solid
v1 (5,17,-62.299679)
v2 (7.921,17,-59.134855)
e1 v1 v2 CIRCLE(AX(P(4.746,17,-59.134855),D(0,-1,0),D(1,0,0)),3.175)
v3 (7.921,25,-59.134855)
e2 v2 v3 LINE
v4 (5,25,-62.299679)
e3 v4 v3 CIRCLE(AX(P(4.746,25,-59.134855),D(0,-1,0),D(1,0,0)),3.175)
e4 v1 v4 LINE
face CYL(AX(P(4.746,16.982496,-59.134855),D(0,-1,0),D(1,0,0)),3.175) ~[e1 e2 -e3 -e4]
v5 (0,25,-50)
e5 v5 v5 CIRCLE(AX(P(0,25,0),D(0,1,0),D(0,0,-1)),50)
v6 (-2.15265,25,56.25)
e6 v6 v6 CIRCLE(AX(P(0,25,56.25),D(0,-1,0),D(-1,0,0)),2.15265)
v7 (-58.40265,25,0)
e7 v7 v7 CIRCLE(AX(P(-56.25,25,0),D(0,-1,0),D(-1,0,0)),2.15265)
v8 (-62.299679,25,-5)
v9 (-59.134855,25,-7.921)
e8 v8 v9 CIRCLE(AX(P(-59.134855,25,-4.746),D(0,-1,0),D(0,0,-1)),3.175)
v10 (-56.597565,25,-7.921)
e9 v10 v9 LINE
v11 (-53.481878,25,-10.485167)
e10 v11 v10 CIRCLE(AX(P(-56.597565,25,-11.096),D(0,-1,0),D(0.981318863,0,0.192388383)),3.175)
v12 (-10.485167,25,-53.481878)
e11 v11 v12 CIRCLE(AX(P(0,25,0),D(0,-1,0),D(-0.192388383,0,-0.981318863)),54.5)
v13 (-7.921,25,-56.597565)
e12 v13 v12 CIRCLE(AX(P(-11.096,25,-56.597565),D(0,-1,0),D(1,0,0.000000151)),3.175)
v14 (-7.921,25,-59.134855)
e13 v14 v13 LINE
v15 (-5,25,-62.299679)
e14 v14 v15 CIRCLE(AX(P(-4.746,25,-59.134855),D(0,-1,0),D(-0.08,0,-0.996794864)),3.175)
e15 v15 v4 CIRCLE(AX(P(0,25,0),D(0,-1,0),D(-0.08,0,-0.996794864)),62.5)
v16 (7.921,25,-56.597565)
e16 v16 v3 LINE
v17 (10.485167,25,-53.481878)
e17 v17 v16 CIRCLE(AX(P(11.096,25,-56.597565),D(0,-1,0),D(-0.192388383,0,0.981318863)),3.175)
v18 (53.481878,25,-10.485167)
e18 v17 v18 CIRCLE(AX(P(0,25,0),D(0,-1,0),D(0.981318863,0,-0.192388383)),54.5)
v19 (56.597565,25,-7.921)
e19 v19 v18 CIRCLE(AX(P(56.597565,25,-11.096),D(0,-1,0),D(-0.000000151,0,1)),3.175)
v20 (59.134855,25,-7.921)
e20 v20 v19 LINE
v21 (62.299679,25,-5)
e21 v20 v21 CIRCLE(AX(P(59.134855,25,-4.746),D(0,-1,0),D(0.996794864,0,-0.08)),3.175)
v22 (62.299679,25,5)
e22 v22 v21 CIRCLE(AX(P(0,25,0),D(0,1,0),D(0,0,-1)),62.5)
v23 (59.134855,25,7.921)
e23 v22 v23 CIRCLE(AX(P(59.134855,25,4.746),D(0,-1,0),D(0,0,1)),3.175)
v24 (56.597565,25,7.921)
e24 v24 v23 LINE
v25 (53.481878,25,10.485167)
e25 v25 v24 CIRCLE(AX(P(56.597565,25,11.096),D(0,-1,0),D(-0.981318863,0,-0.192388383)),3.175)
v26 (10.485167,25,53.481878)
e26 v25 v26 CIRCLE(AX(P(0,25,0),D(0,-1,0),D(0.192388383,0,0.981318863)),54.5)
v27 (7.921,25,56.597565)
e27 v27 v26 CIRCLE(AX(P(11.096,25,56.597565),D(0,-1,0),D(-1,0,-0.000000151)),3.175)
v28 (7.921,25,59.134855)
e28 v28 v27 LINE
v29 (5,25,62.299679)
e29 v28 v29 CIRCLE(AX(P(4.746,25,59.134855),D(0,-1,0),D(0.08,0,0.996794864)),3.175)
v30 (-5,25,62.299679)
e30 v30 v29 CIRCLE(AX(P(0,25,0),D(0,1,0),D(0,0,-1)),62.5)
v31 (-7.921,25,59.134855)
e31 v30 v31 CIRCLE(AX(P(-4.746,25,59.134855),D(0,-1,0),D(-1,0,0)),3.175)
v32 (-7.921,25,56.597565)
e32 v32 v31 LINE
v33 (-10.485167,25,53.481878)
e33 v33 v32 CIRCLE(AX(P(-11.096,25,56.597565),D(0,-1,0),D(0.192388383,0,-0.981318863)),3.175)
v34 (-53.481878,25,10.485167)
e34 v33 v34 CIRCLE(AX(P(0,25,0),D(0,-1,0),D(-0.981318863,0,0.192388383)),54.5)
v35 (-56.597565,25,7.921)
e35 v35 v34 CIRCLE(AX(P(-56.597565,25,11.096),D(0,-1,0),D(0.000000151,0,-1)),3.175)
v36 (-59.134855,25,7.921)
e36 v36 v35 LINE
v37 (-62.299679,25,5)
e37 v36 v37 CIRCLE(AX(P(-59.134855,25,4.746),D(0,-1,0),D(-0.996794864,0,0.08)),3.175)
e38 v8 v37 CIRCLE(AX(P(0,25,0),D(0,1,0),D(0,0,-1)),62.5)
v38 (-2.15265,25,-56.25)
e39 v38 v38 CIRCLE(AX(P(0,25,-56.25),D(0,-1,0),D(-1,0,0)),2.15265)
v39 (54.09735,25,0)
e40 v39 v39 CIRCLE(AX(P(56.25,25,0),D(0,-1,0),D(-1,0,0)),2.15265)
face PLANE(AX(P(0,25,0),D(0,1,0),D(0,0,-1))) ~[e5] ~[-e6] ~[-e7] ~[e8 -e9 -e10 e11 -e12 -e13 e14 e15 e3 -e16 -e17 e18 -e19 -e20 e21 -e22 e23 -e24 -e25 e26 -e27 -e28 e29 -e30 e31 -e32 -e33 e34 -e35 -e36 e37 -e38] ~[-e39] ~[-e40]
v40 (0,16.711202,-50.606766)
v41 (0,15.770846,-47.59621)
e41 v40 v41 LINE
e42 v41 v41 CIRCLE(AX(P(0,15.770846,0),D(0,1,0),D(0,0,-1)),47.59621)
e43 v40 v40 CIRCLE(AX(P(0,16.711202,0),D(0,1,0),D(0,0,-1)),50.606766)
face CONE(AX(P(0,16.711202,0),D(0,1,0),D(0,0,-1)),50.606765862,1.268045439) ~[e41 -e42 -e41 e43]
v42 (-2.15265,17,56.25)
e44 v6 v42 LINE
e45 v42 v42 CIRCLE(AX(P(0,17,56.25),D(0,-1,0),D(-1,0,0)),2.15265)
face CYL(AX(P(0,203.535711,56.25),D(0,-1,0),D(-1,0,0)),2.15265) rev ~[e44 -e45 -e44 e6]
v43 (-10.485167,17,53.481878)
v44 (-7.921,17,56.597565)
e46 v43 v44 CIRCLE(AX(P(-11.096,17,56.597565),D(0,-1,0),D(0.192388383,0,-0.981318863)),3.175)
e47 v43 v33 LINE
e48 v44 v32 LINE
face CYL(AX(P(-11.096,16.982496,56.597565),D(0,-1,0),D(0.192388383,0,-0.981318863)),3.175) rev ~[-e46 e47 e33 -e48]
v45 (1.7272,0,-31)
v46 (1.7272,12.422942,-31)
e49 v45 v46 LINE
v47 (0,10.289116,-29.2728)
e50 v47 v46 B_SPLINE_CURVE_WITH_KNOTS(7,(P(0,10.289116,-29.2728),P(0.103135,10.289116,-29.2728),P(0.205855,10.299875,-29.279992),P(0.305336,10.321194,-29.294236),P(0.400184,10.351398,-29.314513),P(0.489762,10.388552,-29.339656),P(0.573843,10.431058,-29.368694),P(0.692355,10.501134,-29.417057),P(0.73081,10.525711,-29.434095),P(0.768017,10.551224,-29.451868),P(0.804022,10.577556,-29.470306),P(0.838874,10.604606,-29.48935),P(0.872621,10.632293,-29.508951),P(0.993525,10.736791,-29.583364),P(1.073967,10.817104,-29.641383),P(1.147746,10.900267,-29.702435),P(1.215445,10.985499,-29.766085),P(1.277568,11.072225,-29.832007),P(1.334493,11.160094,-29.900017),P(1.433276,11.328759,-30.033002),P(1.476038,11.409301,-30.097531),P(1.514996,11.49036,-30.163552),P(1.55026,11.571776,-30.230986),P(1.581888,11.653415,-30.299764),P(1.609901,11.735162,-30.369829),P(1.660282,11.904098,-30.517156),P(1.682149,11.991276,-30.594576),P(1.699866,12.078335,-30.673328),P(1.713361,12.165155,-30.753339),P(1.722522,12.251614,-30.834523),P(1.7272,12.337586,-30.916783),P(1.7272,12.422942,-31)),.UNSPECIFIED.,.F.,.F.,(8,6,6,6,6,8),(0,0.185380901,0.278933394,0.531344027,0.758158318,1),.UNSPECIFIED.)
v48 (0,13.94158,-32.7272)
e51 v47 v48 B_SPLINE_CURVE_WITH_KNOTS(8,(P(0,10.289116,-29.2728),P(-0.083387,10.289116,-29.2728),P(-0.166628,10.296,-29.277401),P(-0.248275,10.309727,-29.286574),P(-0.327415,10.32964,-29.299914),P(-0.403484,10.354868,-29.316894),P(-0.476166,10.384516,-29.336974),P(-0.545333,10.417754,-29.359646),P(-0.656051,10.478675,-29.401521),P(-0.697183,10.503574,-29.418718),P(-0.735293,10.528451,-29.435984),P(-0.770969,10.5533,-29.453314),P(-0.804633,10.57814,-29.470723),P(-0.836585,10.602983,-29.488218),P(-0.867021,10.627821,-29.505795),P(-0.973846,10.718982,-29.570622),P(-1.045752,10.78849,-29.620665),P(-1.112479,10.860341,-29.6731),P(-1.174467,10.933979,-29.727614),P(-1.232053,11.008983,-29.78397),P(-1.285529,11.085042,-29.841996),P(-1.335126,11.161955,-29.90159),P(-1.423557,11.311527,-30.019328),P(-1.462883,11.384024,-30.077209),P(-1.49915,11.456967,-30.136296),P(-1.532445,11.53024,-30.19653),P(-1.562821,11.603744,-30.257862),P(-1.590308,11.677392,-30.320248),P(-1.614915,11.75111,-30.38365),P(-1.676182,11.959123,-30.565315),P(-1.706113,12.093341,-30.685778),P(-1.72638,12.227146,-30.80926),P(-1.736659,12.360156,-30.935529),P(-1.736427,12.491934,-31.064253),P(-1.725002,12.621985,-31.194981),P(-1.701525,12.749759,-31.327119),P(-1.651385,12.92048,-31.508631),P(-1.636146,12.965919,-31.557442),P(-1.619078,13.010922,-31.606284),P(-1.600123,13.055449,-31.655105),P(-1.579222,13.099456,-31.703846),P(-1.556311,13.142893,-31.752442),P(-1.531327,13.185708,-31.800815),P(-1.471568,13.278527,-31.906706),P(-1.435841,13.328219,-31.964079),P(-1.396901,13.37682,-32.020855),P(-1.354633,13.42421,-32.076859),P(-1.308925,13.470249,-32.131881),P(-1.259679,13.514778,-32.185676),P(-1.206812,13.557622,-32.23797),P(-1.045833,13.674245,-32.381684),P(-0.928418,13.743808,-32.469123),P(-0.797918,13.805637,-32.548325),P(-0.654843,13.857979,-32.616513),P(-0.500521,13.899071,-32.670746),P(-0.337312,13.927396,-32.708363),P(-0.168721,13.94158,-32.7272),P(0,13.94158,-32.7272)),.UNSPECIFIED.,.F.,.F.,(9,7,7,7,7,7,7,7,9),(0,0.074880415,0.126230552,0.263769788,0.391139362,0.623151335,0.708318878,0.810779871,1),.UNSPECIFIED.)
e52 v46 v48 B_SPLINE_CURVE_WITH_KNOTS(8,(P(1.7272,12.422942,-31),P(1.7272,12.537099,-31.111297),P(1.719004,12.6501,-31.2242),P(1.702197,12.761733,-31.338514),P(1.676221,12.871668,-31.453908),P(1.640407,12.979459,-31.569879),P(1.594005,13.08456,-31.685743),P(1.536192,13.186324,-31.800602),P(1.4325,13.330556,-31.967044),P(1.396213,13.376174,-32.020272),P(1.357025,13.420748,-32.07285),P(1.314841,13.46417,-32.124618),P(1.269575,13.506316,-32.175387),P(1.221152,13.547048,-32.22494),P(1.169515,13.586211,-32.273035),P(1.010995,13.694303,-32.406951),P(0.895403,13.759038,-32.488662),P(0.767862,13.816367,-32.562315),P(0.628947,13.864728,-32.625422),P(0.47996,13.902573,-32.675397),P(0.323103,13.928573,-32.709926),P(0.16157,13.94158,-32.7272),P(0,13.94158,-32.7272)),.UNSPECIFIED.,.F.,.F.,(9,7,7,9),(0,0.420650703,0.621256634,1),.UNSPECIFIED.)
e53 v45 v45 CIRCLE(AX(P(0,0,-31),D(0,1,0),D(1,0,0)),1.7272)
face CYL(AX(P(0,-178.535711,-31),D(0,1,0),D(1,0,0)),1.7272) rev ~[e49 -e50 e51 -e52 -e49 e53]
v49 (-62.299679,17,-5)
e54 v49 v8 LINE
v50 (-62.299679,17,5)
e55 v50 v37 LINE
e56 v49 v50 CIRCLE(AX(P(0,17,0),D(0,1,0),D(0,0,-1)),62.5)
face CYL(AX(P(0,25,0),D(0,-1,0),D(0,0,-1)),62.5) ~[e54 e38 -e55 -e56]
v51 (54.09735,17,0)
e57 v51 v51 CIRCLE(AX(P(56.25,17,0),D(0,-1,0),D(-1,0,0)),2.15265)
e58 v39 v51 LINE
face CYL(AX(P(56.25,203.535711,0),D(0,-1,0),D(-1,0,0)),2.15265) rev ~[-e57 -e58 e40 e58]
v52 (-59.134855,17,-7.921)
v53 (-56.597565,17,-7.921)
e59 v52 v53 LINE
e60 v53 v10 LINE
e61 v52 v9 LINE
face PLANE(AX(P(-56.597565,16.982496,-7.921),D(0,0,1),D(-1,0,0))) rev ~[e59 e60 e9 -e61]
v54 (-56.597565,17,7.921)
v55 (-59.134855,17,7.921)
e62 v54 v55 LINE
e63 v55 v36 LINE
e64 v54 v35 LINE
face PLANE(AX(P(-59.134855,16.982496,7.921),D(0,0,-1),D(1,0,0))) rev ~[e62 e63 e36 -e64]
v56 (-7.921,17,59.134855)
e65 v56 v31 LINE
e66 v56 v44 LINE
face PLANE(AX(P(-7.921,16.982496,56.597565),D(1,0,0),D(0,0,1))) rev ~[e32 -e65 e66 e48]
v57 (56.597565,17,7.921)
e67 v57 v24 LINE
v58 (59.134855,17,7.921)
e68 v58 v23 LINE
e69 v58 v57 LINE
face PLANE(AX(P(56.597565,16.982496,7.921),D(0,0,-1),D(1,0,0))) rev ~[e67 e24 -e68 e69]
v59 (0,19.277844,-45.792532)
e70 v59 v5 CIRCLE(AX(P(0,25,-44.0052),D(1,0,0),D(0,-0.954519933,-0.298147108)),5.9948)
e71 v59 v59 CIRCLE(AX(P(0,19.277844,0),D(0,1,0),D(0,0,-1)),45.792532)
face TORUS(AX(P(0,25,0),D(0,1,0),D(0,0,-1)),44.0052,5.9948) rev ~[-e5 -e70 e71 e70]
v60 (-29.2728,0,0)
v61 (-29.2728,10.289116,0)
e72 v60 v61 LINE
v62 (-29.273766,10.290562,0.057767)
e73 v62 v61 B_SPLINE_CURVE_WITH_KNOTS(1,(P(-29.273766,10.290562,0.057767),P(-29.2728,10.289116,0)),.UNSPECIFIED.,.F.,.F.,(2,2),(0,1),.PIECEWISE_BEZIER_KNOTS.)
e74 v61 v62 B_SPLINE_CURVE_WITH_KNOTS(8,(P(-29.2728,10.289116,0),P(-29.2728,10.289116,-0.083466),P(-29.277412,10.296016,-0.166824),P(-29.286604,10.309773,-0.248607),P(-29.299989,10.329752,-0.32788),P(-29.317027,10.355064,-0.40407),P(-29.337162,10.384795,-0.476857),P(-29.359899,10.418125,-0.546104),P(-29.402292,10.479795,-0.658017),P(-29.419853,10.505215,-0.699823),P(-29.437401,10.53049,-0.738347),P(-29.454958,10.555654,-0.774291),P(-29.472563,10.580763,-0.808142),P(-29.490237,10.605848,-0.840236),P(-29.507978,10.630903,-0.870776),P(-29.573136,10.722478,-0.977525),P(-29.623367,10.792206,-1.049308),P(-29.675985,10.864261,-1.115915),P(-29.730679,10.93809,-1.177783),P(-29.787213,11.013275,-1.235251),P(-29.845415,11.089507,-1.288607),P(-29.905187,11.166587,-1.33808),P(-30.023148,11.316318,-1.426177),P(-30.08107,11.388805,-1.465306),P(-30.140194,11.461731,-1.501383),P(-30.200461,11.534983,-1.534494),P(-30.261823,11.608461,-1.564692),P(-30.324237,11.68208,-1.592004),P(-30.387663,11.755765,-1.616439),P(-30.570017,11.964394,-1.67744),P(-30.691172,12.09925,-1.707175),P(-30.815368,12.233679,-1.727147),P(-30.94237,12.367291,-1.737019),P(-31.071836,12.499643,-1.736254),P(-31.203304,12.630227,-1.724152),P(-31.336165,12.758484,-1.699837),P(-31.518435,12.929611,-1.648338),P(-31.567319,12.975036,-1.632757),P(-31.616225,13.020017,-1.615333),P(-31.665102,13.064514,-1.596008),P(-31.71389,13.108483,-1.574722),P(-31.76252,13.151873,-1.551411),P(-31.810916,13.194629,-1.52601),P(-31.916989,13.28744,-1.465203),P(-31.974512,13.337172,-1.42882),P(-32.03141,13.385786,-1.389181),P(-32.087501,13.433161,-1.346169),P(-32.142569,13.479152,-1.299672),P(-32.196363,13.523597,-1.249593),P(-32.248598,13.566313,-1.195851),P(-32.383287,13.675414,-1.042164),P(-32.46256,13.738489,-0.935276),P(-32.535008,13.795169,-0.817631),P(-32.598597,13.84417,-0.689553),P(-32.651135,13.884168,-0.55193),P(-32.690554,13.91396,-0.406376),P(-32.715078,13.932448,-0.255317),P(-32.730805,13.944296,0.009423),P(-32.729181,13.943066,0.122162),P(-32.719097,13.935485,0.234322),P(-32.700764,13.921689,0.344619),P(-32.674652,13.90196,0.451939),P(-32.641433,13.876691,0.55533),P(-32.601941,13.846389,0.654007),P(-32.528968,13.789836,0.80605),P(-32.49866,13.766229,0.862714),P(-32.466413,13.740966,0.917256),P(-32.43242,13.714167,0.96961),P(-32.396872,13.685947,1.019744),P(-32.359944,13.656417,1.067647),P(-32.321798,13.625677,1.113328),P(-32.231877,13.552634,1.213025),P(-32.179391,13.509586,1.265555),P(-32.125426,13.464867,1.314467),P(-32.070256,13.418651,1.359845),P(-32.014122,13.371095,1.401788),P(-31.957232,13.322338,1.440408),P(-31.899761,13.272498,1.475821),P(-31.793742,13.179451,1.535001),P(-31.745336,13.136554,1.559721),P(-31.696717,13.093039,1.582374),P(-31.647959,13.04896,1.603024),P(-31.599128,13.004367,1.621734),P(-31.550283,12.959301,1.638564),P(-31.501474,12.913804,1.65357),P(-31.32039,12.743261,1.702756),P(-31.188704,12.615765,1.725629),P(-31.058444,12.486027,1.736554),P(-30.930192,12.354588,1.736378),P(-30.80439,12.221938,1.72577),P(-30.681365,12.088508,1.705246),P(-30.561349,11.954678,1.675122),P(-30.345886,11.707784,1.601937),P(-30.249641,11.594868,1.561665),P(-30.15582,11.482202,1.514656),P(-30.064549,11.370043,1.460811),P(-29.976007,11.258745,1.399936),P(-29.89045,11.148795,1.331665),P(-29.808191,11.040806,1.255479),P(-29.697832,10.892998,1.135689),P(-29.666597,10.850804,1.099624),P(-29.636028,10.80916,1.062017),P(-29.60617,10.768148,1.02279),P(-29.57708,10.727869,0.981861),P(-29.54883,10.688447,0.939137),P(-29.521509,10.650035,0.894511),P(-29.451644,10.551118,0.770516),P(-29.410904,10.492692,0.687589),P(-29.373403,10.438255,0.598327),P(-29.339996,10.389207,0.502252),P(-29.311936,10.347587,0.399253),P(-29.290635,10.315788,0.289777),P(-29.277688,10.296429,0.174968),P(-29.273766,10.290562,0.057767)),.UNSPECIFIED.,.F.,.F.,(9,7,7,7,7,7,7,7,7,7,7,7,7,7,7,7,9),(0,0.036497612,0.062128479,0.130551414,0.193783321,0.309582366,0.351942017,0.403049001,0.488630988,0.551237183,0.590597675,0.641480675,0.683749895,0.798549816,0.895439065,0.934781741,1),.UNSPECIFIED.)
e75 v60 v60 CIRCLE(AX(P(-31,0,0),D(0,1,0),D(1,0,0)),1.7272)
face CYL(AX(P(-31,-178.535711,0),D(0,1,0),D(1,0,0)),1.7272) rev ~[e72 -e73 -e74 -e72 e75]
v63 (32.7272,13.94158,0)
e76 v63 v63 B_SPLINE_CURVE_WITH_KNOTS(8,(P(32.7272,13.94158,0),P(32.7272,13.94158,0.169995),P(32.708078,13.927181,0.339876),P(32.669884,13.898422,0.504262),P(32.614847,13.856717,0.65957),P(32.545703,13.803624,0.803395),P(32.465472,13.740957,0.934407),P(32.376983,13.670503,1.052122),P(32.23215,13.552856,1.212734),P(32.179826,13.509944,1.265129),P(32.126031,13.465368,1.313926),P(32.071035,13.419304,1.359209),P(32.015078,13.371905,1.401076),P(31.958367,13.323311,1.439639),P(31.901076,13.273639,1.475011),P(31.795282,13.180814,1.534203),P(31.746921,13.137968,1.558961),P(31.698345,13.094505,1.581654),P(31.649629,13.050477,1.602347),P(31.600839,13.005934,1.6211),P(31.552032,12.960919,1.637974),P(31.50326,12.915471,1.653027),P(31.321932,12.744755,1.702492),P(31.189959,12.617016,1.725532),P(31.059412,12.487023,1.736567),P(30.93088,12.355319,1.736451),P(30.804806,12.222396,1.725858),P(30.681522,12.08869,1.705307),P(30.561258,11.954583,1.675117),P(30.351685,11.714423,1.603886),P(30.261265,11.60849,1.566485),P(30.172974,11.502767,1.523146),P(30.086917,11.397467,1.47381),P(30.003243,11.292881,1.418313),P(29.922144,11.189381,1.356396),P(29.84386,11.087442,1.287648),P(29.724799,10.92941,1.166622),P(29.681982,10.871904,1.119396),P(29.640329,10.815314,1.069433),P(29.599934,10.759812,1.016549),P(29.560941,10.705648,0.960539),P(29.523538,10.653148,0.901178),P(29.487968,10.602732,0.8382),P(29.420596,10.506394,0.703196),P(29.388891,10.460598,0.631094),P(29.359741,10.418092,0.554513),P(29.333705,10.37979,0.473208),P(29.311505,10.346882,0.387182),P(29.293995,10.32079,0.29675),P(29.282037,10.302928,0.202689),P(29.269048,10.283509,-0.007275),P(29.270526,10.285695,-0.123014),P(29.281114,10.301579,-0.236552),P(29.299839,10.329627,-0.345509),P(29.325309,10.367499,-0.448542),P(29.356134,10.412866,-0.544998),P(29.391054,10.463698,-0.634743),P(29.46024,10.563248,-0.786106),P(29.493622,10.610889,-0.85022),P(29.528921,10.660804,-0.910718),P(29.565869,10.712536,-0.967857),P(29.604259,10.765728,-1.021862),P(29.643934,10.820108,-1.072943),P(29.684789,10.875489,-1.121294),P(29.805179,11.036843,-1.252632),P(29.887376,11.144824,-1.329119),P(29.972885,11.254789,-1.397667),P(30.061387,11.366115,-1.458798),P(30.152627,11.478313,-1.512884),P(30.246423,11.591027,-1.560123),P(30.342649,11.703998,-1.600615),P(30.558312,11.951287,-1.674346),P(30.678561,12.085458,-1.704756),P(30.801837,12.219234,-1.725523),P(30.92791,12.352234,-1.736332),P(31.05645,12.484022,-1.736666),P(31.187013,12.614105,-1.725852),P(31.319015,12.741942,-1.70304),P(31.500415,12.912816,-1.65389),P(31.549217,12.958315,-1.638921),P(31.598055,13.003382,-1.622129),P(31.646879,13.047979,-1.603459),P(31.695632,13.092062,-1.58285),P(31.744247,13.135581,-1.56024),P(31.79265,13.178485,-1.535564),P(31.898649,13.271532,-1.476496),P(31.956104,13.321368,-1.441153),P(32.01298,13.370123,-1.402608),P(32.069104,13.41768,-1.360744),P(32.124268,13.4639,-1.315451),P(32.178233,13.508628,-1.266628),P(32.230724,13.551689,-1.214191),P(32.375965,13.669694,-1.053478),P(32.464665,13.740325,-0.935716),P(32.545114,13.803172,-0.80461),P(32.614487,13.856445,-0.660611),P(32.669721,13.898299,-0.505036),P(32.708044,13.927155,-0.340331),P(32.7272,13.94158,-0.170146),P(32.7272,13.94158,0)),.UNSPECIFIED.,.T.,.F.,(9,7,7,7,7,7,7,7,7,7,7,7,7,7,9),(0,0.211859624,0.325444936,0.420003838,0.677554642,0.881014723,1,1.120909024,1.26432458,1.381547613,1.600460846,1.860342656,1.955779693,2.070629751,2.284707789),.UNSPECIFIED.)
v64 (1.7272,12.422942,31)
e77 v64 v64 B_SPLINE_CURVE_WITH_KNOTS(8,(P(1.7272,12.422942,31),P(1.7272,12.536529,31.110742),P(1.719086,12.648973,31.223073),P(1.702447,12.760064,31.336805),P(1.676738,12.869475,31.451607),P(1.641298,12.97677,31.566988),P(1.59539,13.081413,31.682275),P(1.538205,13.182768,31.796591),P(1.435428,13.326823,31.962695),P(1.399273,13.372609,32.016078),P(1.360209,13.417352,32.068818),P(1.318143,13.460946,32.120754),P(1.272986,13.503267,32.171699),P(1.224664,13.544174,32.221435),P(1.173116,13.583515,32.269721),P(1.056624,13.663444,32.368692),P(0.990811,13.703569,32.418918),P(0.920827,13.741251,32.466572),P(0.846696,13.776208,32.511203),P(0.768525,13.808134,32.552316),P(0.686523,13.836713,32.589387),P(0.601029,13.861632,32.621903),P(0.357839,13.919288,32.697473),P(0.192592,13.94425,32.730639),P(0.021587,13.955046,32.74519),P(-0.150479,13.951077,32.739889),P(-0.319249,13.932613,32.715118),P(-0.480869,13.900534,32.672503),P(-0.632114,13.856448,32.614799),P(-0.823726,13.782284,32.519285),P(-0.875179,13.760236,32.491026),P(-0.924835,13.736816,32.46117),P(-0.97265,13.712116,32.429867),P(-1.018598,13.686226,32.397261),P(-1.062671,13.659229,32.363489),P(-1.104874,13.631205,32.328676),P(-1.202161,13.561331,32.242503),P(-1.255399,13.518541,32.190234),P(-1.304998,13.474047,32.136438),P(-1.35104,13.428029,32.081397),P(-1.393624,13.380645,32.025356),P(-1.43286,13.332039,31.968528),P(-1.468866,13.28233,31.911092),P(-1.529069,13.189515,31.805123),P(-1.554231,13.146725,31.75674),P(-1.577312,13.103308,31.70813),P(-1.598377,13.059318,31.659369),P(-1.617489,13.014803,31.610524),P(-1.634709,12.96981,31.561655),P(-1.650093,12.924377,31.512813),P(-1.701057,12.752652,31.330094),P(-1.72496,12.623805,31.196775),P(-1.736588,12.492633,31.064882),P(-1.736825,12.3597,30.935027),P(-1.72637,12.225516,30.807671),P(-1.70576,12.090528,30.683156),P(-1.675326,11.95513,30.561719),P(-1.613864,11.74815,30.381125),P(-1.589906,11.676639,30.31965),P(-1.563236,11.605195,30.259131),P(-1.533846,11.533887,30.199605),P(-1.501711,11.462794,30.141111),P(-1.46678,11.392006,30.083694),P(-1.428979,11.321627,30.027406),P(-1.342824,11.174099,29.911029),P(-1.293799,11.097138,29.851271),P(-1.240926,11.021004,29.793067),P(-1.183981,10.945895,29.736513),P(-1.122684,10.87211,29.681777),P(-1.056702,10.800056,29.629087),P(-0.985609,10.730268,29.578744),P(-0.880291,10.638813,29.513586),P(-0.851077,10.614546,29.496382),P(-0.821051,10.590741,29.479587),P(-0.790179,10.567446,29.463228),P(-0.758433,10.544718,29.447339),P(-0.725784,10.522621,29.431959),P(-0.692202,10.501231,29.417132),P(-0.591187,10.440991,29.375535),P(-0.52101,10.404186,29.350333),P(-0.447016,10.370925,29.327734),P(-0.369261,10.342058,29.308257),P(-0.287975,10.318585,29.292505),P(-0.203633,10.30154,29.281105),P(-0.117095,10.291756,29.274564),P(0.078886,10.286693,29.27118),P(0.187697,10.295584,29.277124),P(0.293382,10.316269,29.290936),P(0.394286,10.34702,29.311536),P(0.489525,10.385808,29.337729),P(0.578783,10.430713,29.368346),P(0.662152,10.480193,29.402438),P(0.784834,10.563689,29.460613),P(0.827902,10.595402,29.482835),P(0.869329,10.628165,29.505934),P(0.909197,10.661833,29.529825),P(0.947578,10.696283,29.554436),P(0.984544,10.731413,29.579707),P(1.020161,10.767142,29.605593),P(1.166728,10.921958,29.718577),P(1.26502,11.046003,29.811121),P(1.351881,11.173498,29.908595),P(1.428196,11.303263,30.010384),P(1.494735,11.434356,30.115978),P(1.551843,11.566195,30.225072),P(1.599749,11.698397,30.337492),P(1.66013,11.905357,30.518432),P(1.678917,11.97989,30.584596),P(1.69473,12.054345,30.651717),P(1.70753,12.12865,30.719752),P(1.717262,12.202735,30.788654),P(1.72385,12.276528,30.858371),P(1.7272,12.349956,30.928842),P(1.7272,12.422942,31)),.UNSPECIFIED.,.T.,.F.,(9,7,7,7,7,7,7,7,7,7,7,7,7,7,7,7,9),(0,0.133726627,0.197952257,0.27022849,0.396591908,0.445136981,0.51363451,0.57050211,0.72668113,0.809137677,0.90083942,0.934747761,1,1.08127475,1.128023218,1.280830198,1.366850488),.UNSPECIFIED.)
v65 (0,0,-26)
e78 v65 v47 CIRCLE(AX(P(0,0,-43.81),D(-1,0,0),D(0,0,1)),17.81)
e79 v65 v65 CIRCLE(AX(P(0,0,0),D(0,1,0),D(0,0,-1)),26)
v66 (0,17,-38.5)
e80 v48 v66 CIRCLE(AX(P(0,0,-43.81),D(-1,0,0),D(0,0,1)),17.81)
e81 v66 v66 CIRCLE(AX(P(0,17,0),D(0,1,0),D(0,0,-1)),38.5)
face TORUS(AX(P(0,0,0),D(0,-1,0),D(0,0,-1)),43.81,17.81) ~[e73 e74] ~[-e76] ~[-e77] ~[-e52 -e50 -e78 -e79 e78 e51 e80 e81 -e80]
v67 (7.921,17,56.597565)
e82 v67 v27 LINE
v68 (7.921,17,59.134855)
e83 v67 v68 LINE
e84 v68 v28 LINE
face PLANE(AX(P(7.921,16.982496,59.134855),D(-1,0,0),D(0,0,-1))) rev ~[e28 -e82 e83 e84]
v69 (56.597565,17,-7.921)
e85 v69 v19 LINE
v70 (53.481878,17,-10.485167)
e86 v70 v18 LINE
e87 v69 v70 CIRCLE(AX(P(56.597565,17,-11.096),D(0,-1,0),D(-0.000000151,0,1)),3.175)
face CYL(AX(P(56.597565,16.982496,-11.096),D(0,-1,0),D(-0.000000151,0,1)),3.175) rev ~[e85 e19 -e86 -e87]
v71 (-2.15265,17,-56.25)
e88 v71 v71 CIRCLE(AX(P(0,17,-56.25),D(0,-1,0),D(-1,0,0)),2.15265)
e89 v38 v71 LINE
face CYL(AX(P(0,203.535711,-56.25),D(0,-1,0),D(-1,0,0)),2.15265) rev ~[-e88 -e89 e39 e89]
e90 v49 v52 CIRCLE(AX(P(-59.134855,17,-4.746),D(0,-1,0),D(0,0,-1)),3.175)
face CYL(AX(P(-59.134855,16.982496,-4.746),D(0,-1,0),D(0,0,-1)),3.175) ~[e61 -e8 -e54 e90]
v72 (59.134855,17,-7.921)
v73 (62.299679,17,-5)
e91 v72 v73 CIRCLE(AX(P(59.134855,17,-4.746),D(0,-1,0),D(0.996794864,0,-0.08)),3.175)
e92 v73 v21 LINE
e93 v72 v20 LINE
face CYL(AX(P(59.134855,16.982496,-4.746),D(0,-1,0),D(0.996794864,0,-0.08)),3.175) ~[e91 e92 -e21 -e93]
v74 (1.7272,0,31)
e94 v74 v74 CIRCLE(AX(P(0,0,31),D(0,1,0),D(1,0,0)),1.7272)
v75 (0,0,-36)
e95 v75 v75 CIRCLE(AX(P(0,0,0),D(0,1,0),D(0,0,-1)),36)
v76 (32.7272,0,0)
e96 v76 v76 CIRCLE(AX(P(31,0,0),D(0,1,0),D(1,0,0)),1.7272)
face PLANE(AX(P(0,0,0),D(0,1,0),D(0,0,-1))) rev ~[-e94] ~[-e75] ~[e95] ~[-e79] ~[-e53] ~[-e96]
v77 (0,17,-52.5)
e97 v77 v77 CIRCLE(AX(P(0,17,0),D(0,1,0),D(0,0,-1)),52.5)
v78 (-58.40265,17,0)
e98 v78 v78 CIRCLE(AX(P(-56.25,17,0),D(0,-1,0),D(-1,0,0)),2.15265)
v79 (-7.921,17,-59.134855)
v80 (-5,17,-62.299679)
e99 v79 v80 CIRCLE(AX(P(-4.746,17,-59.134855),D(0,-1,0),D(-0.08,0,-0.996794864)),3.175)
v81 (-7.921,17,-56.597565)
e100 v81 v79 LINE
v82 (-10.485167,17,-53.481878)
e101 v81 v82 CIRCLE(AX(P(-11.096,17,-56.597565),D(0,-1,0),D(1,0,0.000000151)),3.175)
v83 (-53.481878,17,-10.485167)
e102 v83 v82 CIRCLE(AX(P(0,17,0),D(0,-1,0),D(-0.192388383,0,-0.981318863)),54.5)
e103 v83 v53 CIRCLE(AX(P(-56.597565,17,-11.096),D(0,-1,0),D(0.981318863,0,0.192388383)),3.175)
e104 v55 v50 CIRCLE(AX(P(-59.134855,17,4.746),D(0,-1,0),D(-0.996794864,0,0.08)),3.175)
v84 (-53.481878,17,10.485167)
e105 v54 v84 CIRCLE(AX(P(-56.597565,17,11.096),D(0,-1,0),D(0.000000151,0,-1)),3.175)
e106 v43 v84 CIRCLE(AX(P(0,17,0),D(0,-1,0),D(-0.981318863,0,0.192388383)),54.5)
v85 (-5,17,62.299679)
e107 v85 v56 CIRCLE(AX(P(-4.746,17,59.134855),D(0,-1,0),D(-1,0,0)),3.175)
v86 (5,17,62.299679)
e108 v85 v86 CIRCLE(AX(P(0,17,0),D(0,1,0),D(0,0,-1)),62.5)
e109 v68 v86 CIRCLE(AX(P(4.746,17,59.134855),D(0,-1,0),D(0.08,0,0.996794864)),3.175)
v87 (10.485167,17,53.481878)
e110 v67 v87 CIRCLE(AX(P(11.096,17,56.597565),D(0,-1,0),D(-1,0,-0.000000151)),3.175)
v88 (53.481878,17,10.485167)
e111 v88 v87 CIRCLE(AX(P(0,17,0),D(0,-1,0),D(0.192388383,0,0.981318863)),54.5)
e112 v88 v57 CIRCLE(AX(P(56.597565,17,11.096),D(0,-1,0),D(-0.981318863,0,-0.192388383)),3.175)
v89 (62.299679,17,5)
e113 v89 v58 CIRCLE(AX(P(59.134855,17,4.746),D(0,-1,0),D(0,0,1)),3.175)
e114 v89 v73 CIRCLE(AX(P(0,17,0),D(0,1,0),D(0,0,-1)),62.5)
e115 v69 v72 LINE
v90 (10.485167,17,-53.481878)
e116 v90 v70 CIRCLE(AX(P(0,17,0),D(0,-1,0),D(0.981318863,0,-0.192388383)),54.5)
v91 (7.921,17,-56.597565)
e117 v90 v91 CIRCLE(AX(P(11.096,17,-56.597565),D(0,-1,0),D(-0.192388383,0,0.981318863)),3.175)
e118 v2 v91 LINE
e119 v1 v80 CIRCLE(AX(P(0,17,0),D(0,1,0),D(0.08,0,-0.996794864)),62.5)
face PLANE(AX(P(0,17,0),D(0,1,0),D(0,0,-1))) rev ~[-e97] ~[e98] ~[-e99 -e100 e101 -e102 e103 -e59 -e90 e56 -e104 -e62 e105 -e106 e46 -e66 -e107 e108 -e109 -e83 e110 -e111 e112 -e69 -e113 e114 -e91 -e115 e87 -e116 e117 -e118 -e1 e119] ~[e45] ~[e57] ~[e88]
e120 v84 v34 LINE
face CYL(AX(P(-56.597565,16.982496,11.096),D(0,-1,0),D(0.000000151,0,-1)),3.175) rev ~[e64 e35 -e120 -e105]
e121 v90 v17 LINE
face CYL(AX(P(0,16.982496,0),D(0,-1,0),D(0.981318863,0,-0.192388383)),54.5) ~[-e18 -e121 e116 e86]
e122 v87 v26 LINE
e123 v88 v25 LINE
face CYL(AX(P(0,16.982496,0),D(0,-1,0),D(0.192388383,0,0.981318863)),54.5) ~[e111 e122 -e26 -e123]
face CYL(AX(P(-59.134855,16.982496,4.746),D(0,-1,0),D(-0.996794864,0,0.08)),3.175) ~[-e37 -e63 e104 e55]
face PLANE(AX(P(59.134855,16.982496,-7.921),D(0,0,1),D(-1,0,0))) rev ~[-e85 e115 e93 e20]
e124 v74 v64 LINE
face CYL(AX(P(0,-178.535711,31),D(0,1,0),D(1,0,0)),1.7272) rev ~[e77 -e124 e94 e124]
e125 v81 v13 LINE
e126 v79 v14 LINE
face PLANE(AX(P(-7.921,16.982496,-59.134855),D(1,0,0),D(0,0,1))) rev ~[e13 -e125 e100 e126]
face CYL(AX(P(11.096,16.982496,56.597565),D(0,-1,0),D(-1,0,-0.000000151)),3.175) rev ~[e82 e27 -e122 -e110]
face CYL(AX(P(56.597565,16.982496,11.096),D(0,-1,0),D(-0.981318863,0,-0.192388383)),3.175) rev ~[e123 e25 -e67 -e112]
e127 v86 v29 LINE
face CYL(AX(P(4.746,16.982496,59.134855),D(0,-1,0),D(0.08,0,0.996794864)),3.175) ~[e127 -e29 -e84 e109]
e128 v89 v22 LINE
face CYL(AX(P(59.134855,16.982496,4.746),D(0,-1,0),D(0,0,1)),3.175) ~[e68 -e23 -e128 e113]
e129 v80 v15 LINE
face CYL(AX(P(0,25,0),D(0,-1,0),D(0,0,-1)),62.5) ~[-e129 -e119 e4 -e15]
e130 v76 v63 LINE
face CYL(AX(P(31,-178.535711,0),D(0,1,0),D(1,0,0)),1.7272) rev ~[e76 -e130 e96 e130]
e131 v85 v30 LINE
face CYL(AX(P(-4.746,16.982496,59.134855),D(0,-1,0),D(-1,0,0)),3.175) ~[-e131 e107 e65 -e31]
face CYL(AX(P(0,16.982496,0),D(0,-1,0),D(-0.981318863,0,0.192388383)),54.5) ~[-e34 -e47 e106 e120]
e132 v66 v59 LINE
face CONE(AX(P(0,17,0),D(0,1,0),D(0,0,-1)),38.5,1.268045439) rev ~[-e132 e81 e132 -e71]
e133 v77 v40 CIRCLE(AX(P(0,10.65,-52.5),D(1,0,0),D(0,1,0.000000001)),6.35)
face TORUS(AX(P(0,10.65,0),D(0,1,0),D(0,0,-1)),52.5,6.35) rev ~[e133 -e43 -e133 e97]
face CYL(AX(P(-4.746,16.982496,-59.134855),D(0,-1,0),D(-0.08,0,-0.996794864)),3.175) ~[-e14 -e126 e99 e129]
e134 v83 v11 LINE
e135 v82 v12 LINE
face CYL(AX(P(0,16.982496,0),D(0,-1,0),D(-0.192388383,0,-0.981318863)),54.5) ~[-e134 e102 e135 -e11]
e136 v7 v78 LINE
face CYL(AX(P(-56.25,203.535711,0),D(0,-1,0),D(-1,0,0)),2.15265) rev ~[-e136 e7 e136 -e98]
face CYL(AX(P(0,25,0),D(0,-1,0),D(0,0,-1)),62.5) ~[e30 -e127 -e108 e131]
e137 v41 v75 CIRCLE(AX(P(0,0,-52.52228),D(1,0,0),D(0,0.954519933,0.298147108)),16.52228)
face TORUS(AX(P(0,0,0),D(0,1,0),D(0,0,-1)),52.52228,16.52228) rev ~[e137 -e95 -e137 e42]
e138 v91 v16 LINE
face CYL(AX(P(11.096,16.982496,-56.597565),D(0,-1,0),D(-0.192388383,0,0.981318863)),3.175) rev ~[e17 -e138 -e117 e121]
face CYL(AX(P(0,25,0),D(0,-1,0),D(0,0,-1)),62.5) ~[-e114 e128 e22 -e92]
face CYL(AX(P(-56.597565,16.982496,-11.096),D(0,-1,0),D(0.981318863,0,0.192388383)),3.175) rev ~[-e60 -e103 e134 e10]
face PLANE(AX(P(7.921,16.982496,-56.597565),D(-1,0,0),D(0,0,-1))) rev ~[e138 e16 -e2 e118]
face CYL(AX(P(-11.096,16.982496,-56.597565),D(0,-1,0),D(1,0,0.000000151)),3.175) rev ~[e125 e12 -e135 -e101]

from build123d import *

# Parameters (mm, degrees)
F_18_0_1695_DIAMETER_HOLE1_D = 4.3053
F_8_32_TAPPED_HOLE1_D        = 3.4544
CUT_EXTRUDE1_START           = -28
CUT_EXTRUDE1_DEPTH           = 28


with BuildPart() as part:
    # Sketch1 → Revolve1 (revolve)
    with BuildSketch(Plane.XY, mode=Mode.PRIVATE) as revolve1_sk:
        with BuildLine():
            Line((-62.5, 25), (-62.5, 17))
            Line((-62.5, 17), (-52.5, 17))
            ThreePointArc((-52.5, 17), (-51.542432766, 16.927385203), (-50.606765862, 16.711201572))
            Line((-50.606765862, 16.711201572), (-47.596209994, 15.770845592))
            ThreePointArc((-47.596209994, 15.770845592), (-39.211088387, 9.787640892), (-36, 0))
            Line((-36, 0), (-26, 0))
            ThreePointArc((-26, 0), (-29.461355465, 10.550473923), (-38.5, 17))
            Line((-38.5, 17), (-45.792532285, 19.277843908))
            ThreePointArc((-45.792532285, 19.277843908), (-48.834916691, 21.448737727), (-50, 25))
            Line((-50, 25), (-62.5, 25))
        make_face()
    revolve(revolve1_sk.sketch.rotate(Axis((0, 0, 0), (0, 1, 0)), 270), axis=Axis((0, 0, 0), (0, 1, 0)))

    # #18 (0.1695) Diameter Hole1 (through all)
    with Locations(Plane(origin=(0, 25, 0), x_dir=(1, 0, 0), z_dir=(0, 1, 0))):
        with Locations((0, 56.25), (0, -56.25), (-56.25, 0), (56.25, 0)):
            Hole(F_18_0_1695_DIAMETER_HOLE1_D / 2)

    # #8-32 Tapped Hole1 (through all)
    with Locations(Plane(origin=(0, 0, 0), x_dir=(-1, 0, 0), z_dir=(0, -1, 0))):
        with Locations((0, 31), (0, -31), (-31, 0), (31, 0)):
            Hole(F_8_32_TAPPED_HOLE1_D / 2)

    # Sketch7 → Cut-Extrude1 (cut)
    with BuildSketch(Plane(origin=(0, 44.982495649, 0), x_dir=(1, 0, 0), z_dir=(0, 1, 0)).offset(CUT_EXTRUDE1_START)):
        with BuildLine():
            Line((-56.597564918, 7.921), (-59.13485528, 7.921))
            ThreePointArc((-59.13485528, 7.921), (-61.28824505, 7.07913898), (-62.299678972, 5))
            ThreePointArc((-62.299678972, 5), (-44.194173824, 44.194173824), (-5, 62.299678972))
            ThreePointArc((-5, 62.299678972), (-7.07913898, 61.28824505), (-7.921, 59.13485528))
            Line((-7.921, 59.13485528), (-7.921, 56.597564918))
            ThreePointArc((-7.921, 56.597564918), (-8.644467964, 54.579988714), (-10.485166883, 53.48187801))
            ThreePointArc((-10.485166883, 53.48187801), (-38.537319575, 38.537319575), (-53.48187801, 10.485166883))
            ThreePointArc((-53.48187801, 10.485166883), (-54.579988714, 8.644467964), (-56.597564918, 7.921))
        make_face()
        with BuildLine():
            Line((7.921, 56.597564918), (7.921, 59.13485528))
            ThreePointArc((7.921, 59.13485528), (7.07913898, 61.28824505), (5, 62.299678972))
            ThreePointArc((5, 62.299678972), (44.194173824, 44.194173824), (62.299678972, 5))
            ThreePointArc((62.299678972, 5), (61.28824505, 7.07913898), (59.13485528, 7.921))
            Line((59.13485528, 7.921), (56.597564918, 7.921))
            ThreePointArc((56.597564918, 7.921), (54.579988714, 8.644467964), (53.48187801, 10.485166883))
            ThreePointArc((53.48187801, 10.485166883), (38.537319575, 38.537319575), (10.485166883, 53.48187801))
            ThreePointArc((10.485166883, 53.48187801), (8.644467964, 54.579988714), (7.921, 56.597564918))
        make_face()
        with BuildLine():
            Line((56.597564918, -7.921), (59.13485528, -7.921))
            ThreePointArc((59.13485528, -7.921), (61.28824505, -7.07913898), (62.299678972, -5))
            ThreePointArc((62.299678972, -5), (44.194173824, -44.194173824), (5, -62.299678972))
            ThreePointArc((5, -62.299678972), (7.07913898, -61.28824505), (7.921, -59.13485528))
            Line((7.921, -59.13485528), (7.921, -56.597564918))
            ThreePointArc((7.921, -56.597564918), (8.644467964, -54.579988714), (10.485166883, -53.48187801))
            ThreePointArc((10.485166883, -53.48187801), (38.537319575, -38.537319575), (53.48187801, -10.485166883))
            ThreePointArc((53.48187801, -10.485166883), (54.579988714, -8.644467964), (56.597564918, -7.921))
        make_face()
        with BuildLine():
            Line((-7.921, -56.597564918), (-7.921, -59.13485528))
            ThreePointArc((-7.921, -59.13485528), (-7.07913898, -61.28824505), (-5, -62.299678972))
            ThreePointArc((-5, -62.299678972), (-44.194173824, -44.194173824), (-62.299678972, -5))
            ThreePointArc((-62.299678972, -5), (-61.28824505, -7.07913898), (-59.13485528, -7.921))
            Line((-59.13485528, -7.921), (-56.597564918, -7.921))
            ThreePointArc((-56.597564918, -7.921), (-54.579988714, -8.644467964), (-53.48187801, -10.485166883))
            ThreePointArc((-53.48187801, -10.485166883), (-38.537319575, -38.537319575), (-10.485166883, -53.48187801))
            ThreePointArc((-10.485166883, -53.48187801), (-8.644467964, -54.579988714), (-7.921, -56.597564918))
        make_face()
    extrude(amount=CUT_EXTRUDE1_DEPTH, mode=Mode.SUBTRACT)


solid = part.part
